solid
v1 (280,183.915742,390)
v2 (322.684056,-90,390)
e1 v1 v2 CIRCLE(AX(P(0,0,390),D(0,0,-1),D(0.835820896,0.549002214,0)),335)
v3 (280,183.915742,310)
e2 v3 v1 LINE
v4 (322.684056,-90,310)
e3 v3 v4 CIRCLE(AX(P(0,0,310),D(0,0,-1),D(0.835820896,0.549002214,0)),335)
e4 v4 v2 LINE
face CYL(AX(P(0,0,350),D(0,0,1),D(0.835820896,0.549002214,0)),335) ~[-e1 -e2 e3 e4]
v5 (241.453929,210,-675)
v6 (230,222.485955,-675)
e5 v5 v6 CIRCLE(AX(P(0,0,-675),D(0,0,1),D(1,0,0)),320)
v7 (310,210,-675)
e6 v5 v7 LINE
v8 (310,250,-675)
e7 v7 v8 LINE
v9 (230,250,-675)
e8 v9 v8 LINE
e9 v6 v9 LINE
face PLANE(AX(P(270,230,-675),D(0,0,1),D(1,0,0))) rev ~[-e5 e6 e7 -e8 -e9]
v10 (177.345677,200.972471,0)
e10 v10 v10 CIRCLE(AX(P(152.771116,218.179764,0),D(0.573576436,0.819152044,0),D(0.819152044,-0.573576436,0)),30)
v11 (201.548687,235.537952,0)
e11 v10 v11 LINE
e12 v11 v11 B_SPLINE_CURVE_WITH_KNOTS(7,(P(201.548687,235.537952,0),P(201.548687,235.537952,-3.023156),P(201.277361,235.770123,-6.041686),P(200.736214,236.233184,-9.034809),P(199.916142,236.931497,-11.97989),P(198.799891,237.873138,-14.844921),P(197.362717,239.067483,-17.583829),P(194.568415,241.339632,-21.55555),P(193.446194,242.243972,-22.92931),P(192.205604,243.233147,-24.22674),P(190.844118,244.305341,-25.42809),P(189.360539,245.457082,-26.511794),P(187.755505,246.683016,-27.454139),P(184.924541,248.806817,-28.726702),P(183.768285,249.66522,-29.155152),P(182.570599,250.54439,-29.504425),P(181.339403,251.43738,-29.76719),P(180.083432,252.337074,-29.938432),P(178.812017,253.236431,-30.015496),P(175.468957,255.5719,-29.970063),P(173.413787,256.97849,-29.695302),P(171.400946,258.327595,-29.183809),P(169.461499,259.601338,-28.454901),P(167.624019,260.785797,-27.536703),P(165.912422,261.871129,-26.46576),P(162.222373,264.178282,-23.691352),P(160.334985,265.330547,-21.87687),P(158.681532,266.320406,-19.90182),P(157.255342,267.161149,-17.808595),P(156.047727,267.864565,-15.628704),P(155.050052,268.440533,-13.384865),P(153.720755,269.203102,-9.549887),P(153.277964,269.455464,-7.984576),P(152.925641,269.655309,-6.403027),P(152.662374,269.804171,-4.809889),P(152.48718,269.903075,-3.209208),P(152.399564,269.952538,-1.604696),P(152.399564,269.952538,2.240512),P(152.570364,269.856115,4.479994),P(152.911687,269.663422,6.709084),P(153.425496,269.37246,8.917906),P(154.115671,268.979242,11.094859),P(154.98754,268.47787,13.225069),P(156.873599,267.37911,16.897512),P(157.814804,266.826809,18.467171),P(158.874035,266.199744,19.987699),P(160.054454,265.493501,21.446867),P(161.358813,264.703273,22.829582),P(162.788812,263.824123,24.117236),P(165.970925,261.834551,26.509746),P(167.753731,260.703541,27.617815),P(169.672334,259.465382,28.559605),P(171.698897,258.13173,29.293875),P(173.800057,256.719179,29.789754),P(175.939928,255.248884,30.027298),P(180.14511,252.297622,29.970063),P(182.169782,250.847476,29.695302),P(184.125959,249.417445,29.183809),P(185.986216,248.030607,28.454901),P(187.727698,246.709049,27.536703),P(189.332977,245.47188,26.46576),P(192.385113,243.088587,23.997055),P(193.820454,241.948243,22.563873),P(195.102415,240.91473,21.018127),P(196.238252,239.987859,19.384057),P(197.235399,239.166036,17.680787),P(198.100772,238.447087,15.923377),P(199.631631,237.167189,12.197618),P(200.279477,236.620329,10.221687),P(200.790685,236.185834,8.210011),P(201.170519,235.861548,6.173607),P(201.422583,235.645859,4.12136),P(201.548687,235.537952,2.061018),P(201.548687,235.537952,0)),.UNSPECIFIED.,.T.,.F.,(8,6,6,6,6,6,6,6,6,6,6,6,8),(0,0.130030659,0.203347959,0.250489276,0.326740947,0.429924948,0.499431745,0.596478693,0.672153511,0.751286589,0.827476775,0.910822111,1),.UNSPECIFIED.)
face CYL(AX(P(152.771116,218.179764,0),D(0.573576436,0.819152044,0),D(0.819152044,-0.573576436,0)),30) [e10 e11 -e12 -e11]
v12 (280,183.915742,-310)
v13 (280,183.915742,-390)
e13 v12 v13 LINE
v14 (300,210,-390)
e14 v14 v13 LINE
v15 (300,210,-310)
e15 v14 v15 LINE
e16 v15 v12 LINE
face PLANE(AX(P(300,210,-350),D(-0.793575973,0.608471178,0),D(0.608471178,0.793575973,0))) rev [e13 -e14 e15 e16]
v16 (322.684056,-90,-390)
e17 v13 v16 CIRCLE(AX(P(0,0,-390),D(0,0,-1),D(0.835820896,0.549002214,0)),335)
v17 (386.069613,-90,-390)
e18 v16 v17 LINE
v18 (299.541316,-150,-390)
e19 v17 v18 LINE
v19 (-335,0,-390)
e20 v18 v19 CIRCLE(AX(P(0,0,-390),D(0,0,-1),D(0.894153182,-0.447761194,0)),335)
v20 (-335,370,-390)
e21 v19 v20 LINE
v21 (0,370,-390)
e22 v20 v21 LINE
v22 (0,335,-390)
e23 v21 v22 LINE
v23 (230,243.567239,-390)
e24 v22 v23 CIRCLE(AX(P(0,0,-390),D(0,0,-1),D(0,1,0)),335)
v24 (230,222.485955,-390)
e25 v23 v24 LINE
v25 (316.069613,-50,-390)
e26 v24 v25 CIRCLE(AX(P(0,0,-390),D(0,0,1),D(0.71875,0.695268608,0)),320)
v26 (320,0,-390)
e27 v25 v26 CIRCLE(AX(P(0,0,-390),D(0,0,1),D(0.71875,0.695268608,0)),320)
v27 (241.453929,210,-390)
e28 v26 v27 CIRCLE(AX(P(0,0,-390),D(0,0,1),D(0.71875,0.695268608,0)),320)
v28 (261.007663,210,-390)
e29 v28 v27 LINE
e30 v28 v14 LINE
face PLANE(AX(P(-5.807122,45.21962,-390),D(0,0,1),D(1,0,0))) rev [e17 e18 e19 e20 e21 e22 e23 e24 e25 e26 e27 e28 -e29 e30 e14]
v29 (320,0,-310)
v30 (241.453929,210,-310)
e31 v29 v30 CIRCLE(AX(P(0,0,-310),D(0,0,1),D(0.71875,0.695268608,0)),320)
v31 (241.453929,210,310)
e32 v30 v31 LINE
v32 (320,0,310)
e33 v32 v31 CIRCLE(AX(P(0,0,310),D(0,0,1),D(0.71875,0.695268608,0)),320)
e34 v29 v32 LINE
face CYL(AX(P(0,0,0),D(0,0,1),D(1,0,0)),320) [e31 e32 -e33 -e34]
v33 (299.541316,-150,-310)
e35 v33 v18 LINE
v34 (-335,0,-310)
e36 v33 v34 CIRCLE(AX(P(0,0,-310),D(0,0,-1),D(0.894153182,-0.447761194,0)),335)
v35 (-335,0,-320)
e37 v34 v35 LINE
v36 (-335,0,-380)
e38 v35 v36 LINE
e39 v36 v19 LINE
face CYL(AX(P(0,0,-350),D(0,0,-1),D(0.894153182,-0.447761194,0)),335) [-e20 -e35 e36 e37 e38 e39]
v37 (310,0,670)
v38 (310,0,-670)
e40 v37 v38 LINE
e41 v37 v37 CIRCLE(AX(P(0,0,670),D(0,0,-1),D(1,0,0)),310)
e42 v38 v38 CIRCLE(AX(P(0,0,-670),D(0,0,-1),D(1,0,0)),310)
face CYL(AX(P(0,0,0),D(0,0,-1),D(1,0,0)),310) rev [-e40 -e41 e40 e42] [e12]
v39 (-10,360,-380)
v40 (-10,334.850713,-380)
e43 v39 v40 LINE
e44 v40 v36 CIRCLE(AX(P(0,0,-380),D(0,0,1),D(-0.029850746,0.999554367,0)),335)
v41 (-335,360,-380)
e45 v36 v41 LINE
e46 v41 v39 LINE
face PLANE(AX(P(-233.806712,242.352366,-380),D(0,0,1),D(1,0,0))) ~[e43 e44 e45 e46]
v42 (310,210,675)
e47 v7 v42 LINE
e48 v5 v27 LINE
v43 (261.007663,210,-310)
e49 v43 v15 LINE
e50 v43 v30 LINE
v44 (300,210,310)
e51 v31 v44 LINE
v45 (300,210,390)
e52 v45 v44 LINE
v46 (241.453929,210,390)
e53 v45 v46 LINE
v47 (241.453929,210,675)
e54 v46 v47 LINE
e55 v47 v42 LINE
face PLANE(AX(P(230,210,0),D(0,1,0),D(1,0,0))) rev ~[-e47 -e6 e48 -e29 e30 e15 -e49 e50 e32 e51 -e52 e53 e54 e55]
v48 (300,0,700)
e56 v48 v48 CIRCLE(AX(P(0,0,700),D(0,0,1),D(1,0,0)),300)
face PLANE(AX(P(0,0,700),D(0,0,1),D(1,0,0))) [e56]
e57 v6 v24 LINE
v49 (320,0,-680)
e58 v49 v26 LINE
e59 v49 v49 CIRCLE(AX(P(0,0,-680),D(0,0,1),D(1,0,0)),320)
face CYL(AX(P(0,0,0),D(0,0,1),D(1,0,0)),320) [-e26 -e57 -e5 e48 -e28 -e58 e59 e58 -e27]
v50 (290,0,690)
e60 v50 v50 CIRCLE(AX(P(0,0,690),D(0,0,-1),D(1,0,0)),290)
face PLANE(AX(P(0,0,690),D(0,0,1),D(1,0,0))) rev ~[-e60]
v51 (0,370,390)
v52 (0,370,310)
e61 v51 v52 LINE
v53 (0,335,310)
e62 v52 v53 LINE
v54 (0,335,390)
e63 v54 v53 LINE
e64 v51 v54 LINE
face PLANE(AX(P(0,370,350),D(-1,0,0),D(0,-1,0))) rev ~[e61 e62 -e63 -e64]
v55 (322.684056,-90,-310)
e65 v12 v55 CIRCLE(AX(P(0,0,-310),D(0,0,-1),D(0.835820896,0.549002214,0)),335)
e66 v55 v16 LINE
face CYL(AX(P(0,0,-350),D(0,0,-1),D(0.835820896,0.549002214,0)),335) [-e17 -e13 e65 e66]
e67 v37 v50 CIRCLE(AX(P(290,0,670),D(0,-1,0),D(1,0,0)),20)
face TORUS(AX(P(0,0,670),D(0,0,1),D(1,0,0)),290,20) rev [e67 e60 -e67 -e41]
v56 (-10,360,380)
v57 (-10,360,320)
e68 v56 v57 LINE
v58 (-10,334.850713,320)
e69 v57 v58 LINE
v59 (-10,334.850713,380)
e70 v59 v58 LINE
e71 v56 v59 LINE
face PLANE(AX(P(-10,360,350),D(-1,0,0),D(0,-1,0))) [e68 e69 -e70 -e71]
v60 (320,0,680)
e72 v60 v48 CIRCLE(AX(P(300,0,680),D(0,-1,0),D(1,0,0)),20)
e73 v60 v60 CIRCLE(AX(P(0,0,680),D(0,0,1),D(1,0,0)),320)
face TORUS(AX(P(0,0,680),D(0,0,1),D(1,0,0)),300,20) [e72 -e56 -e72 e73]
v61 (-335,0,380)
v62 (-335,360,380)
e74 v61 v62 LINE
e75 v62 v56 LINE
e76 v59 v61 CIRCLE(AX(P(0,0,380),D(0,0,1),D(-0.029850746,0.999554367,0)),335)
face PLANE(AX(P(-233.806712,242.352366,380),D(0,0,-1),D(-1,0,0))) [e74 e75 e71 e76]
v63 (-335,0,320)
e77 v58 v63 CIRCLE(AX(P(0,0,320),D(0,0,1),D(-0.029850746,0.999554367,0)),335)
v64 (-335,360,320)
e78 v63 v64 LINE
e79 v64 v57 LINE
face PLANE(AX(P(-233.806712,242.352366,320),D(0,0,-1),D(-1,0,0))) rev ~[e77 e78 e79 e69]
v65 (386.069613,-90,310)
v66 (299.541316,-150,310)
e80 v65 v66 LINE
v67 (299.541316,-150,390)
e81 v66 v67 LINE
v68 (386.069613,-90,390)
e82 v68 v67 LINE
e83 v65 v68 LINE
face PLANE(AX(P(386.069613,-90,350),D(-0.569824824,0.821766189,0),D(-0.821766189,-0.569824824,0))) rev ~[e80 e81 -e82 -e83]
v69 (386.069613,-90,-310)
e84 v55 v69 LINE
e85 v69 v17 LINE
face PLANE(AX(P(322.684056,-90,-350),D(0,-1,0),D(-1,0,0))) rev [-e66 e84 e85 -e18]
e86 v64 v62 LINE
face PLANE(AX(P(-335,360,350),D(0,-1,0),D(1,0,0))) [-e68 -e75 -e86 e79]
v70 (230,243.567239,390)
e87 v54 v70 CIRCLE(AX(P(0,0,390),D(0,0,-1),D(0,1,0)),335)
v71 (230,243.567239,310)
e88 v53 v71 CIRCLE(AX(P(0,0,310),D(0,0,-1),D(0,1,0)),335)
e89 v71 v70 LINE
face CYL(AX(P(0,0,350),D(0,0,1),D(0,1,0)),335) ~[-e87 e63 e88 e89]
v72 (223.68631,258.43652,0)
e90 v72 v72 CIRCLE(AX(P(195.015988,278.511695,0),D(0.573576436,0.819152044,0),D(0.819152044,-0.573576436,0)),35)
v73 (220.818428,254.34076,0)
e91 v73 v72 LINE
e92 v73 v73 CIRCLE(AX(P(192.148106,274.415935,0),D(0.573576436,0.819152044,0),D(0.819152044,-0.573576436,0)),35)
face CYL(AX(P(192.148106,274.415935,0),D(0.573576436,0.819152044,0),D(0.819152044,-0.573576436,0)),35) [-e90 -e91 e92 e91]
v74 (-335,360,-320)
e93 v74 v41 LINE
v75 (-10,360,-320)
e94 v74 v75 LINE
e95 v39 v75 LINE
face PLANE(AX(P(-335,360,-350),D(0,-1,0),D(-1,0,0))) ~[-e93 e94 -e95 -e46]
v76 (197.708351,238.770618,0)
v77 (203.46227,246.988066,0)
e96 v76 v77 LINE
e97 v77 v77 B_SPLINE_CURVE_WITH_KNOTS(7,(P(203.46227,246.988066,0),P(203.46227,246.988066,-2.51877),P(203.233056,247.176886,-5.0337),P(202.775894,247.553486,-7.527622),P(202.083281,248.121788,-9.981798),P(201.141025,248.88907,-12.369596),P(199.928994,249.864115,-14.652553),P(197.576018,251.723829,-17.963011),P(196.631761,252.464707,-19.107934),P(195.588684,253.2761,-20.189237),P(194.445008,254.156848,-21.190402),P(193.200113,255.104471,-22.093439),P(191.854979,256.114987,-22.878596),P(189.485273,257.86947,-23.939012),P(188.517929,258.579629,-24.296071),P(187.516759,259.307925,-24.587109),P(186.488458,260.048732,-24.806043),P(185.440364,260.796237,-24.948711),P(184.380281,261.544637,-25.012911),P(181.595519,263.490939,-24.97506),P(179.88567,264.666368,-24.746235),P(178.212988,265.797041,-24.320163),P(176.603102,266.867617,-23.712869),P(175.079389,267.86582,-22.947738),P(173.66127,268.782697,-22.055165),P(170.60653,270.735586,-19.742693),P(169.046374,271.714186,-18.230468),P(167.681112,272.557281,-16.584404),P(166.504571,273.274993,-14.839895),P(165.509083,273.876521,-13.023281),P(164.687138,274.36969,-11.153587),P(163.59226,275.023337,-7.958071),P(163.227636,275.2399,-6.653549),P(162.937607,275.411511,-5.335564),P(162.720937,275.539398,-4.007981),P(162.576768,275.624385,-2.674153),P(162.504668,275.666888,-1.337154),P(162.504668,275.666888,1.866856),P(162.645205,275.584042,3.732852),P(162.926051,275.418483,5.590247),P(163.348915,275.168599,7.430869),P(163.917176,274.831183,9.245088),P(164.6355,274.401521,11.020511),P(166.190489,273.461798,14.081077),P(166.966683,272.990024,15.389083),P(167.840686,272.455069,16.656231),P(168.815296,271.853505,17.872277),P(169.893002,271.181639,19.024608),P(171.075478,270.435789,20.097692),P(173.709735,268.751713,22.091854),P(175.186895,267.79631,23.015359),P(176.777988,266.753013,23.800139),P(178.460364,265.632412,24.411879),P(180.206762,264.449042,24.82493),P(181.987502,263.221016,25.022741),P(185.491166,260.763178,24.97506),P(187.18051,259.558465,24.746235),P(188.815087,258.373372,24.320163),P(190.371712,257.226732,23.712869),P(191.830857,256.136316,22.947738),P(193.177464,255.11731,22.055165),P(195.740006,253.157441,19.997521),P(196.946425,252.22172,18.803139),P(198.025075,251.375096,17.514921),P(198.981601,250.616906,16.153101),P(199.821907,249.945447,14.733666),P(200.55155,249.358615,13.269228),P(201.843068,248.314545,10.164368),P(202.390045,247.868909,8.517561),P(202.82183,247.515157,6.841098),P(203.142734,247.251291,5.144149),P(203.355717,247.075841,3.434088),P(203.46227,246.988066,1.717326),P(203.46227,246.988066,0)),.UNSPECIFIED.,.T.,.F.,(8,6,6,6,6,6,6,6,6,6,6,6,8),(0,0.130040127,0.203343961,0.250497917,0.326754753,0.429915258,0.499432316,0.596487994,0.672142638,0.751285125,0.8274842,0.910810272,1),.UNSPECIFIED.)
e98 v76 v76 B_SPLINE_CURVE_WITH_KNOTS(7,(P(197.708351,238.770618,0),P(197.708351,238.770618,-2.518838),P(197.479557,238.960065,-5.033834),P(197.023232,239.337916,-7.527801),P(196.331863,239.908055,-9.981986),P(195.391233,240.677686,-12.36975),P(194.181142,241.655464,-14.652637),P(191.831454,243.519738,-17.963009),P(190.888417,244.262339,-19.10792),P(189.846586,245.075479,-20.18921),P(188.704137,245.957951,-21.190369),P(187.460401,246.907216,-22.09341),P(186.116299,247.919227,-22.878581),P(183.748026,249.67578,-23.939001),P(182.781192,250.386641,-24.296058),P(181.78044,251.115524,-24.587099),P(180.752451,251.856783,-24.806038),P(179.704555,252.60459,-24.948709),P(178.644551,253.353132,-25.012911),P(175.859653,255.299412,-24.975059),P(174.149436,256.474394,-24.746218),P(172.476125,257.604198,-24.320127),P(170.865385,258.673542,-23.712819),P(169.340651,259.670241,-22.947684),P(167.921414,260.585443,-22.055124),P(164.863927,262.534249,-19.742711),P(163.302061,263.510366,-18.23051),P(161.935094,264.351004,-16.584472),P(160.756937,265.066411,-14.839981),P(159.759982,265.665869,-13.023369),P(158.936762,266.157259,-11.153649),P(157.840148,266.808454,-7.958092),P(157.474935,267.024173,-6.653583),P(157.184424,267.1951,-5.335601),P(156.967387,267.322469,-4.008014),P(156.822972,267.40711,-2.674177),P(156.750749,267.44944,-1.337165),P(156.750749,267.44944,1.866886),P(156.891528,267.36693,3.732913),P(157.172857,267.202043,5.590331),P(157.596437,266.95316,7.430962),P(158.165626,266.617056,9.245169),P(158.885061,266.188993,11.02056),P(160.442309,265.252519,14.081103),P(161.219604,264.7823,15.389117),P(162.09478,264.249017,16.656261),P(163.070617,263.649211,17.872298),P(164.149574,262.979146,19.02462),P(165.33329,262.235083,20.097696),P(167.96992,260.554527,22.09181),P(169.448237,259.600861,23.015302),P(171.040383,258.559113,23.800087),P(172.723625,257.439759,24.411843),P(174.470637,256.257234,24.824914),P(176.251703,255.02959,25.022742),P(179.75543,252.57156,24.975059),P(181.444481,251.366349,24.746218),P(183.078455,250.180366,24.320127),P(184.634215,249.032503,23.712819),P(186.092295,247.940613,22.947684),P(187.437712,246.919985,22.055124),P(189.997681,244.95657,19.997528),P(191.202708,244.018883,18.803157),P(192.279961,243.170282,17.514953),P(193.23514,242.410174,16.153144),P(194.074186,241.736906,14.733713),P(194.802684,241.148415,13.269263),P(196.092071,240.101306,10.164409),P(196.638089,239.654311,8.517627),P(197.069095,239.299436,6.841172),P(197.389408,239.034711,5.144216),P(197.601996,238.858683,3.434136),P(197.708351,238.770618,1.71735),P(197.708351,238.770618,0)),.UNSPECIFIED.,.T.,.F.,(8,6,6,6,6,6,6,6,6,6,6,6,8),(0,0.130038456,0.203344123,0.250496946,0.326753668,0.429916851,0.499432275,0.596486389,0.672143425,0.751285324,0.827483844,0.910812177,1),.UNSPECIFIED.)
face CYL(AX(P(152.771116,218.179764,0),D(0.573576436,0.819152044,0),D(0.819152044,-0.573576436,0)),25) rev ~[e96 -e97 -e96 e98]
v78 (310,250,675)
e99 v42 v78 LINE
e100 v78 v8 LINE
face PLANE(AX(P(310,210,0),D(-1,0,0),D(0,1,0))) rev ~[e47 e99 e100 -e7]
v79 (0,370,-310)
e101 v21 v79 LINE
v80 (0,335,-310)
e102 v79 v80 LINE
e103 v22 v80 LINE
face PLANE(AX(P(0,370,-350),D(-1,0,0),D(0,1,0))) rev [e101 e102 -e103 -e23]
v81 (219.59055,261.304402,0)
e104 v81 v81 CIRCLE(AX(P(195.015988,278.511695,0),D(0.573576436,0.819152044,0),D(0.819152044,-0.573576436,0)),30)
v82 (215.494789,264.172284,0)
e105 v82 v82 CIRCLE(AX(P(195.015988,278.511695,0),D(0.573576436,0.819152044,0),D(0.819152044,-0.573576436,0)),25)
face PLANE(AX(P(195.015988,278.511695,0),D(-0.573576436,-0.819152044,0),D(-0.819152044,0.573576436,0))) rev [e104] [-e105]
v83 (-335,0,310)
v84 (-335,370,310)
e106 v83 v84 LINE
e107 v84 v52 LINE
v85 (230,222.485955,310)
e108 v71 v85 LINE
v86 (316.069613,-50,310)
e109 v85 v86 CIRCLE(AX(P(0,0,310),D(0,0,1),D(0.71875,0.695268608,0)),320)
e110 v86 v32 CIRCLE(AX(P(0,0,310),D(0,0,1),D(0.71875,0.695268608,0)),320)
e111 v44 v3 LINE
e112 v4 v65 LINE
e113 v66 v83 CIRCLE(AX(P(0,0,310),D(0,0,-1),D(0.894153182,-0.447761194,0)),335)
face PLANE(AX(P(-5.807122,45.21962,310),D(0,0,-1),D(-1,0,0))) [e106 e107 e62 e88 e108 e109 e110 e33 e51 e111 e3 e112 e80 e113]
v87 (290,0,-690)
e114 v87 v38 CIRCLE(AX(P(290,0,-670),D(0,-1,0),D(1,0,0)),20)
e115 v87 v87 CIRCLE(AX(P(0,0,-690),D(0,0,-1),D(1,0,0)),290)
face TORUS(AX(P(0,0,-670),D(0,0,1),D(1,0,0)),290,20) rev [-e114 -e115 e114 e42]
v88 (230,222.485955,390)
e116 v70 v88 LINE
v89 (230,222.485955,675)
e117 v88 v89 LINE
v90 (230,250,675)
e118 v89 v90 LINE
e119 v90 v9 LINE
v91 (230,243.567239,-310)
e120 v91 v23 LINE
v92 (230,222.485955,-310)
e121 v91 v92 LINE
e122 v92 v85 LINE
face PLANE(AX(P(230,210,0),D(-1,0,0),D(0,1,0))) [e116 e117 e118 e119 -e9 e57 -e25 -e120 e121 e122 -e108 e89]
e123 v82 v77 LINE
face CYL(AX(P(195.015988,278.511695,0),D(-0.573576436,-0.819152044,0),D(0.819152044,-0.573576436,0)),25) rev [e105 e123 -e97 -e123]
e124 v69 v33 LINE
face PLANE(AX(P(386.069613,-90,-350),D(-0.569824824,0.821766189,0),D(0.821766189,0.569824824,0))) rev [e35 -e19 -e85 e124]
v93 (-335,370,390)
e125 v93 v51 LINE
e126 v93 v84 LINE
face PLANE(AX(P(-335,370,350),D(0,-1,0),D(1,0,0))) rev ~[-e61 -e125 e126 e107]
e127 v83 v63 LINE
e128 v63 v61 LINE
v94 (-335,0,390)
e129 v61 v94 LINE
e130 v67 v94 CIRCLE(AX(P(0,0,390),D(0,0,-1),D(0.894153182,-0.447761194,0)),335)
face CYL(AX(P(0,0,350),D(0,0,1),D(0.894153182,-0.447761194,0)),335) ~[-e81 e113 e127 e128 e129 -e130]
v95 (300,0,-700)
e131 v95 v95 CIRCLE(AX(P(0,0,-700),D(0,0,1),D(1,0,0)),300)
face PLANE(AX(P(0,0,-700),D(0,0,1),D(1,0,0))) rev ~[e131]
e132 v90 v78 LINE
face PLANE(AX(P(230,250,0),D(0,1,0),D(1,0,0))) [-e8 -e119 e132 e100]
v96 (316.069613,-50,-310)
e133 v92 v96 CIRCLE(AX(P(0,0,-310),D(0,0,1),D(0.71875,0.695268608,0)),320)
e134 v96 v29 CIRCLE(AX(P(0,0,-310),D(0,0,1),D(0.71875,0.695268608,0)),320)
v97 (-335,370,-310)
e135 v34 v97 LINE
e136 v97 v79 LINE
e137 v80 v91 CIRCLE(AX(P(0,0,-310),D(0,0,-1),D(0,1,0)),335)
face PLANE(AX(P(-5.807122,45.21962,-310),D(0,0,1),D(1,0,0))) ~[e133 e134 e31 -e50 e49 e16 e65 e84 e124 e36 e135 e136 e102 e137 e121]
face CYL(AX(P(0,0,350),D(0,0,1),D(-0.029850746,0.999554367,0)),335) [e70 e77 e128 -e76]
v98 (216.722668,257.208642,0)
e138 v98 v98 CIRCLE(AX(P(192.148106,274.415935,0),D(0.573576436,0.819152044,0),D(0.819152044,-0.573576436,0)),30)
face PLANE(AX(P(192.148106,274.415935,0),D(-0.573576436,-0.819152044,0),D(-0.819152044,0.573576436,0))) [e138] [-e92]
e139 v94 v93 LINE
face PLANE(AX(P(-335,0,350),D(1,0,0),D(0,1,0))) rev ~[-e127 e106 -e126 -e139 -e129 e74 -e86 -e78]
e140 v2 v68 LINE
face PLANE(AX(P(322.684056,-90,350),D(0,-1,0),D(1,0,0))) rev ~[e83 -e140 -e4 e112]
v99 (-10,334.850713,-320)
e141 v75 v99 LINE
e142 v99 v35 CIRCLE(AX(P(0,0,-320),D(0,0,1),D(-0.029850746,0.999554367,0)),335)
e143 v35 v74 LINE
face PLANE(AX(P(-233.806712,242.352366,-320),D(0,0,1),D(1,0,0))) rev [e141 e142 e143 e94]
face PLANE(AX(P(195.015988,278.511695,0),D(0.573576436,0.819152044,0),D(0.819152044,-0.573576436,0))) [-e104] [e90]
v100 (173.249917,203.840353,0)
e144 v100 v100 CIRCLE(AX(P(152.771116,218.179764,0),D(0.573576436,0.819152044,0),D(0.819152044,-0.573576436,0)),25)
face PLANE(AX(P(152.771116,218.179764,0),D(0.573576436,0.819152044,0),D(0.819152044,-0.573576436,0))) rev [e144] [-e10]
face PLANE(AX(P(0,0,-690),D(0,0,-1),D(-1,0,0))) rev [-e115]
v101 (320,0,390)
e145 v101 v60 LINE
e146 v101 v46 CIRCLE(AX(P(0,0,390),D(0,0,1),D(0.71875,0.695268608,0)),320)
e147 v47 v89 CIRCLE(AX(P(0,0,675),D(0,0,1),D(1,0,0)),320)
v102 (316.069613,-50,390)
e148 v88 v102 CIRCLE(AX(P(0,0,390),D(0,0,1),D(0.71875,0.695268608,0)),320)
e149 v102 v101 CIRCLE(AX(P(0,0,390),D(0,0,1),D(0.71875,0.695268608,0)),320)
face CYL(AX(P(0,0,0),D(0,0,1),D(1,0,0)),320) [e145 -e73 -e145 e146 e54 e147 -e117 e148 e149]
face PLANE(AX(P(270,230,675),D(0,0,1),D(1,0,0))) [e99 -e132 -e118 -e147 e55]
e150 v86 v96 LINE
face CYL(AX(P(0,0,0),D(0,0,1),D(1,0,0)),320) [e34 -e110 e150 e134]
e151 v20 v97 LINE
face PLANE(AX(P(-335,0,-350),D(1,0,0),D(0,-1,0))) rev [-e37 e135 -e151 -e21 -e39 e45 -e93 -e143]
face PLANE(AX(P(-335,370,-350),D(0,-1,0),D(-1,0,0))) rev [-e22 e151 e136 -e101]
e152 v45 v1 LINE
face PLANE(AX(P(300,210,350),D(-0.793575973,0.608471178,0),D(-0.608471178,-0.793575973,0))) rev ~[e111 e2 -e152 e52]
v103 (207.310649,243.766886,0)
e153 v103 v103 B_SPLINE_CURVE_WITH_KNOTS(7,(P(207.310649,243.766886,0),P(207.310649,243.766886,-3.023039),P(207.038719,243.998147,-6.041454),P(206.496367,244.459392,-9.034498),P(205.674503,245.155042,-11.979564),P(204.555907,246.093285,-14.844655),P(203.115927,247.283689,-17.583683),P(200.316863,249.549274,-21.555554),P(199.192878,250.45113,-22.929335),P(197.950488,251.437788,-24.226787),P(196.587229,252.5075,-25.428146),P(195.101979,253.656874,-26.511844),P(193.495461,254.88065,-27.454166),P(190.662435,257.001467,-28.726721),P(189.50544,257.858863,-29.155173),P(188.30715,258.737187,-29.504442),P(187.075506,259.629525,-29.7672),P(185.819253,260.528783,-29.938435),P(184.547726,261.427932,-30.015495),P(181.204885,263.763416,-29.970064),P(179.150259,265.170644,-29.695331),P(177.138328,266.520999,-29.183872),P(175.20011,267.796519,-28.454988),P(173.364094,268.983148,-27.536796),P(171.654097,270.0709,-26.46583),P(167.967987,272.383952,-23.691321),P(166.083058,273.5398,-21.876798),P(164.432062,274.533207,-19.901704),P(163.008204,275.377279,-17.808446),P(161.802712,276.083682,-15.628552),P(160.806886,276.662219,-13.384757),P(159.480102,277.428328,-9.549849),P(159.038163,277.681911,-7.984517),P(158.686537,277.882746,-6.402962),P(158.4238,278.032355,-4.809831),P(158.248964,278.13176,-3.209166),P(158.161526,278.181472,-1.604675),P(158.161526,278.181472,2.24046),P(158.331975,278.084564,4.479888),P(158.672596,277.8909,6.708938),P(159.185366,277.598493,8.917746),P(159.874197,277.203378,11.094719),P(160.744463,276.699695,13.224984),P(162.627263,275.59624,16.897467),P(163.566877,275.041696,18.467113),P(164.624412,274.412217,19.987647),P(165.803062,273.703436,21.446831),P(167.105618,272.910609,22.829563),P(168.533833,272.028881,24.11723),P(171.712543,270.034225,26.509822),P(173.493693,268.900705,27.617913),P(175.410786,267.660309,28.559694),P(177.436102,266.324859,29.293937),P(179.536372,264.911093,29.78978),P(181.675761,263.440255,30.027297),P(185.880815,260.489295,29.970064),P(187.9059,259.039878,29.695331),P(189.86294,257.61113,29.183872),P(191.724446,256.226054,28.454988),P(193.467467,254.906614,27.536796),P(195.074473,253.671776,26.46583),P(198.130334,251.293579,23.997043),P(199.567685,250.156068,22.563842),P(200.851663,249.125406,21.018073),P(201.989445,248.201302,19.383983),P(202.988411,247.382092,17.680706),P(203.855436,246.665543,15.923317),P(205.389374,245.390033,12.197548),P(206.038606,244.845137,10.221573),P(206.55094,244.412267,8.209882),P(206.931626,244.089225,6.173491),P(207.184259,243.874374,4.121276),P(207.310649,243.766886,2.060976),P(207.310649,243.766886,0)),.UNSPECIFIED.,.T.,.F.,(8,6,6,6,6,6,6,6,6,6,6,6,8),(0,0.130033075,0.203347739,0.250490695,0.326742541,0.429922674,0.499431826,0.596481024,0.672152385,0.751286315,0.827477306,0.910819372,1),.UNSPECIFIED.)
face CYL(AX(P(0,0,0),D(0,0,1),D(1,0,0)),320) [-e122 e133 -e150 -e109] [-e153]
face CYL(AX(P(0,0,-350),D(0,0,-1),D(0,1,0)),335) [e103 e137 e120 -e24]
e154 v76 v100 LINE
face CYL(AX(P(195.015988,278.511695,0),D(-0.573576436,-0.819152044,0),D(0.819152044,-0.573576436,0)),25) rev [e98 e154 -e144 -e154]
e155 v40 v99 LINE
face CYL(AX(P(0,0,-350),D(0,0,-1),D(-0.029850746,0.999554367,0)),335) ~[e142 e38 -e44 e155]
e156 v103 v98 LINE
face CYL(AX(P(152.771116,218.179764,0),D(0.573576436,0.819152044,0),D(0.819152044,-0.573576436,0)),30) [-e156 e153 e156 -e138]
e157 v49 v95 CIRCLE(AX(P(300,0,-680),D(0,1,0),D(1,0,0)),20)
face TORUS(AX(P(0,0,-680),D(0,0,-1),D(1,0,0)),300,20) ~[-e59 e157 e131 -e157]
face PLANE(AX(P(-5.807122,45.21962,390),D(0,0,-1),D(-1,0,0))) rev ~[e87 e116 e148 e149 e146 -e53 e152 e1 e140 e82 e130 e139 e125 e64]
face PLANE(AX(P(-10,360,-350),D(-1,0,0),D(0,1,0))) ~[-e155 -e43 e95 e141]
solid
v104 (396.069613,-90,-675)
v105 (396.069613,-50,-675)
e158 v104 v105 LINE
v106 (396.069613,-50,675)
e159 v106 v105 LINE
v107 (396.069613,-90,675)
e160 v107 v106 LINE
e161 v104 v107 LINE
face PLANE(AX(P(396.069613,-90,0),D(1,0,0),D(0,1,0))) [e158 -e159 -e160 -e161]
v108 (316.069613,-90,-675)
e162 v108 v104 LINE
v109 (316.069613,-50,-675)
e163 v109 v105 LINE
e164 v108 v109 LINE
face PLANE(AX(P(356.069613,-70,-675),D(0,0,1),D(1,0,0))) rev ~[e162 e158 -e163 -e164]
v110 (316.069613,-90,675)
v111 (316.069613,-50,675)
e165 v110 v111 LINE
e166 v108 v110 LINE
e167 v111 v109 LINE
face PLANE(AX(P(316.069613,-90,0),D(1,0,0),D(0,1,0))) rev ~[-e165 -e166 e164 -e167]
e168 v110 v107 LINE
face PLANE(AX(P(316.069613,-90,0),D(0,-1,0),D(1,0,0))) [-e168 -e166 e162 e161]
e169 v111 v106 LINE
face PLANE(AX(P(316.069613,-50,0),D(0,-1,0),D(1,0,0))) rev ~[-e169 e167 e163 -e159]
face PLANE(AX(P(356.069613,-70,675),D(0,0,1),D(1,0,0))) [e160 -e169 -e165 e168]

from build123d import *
from build123d.topology import SkipClean

# Parameters (mm, degrees)
SKETCH1_R           = 320
SKETCH1_R_2         = 310
BOSS_EXTRUDE1_DEPTH = 700
SKETCH2_R           = 320
BOSS_EXTRUDE2_DEPTH = 10
FILLET1_R           = 20
FILLET2_R           = 20
SKETCH3_W           = 80
SKETCH3_H           = 40
BOSS_EXTRUDE3_DEPTH = 675
SKETCH4_R           = 320
BOSS_EXTRUDE4_DEPTH = 40
CUT_EXTRUDE1_DEPTH  = 30


with BuildPart() as part:
    # Sketch1 → Boss-Extrude1 (new, symmetric)
    with BuildSketch(Plane.XY):
        Circle(SKETCH1_R)
        Circle(SKETCH1_R_2, mode=Mode.SUBTRACT)
    extrude(amount=BOSS_EXTRUDE1_DEPTH, both=True)

    # Sketch2 → Boss-Extrude2 (add)
    with BuildSketch(Plane.XY.offset(700)):
        Circle(SKETCH2_R)
    boss_extrude2 = extrude(amount=-BOSS_EXTRUDE2_DEPTH)

    # Fillet1
    fillet1_edges = [part.edges().sort_by_distance(p)[0] for p in [
        (-320, 0, 700),
        (-310, 0, 690),
    ]]
    fillet(fillet1_edges, radius=FILLET1_R)

    # Mirror1: Boss-Extrude2 across plane
    add(boss_extrude2.mirror(Plane.XY))

    # Fillet2
    fillet2_edges = [part.edges().sort_by_distance(p)[0] for p in [
        (-320, 0, -700),
        (-310, 0, -690),
    ]]
    fillet(fillet2_edges, radius=FILLET2_R)

    # Sketch3 → Boss-Extrude3 (add, symmetric)
    with BuildSketch(Plane.XY):
        with Locations((270, 230)):
            Rectangle(SKETCH3_W, SKETCH3_H)
        with Locations((356.069612586, -70)):
            Rectangle(SKETCH3_W, SKETCH3_H)
    extrude(amount=BOSS_EXTRUDE3_DEPTH, both=True)


with BuildPart() as boss_extrude3_piece_1:
    # of the separate pieces the step leaves, piece 1, a body of its own (boss_extrude3_pieces)
    add(part.part.solids().sort_by_distance((320, 0, -680))[0])

    # Sketch4 → Boss-Extrude4 (add, symmetric)
    with BuildSketch(Plane.XY.offset(350)):
        with BuildLine():
            Line((-335, 0), (-335, 370))
            Line((-335, 370), (0, 370))
            Line((0, 370), (0, 335))
            ThreePointArc((0, 335), (144.697961285, 302.138213406), (261.007662723, 210))
            Line((261.007662723, 210), (300, 210))
            Line((300, 210), (280, 183.915741577))
            ThreePointArc((280, 183.915741577), (331.005251033, 51.580265493), (322.684056005, -90))
            Line((322.684056005, -90), (386.069612586, -90))
            Line((386.069612586, -90), (299.541316015, -150))
            ThreePointArc((299.541316015, -150), (-77.067045924, -326.014831614), (-335, 0))
        make_face()
        Circle(SKETCH4_R, mode=Mode.SUBTRACT)
    boss_extrude4 = extrude(amount=BOSS_EXTRUDE4_DEPTH, both=True)

    # Sketch7 → Cut-Extrude1 (cut, symmetric)
    with SkipClean():  # the faces are left unmerged after this step: merging them gives an invalid solid
        with BuildSketch(Plane.XY.offset(350)):
            with BuildLine():
                Line((-335, 360), (-10, 360))
                Line((-10, 360), (-10, 334.850713005))
                ThreePointArc((-10, 334.850713005), (-240.390307625, 233.318451906), (-335, 0))
                Line((-335, 0), (-335, 360))
            make_face()
        cut_extrude1 = extrude(amount=CUT_EXTRUDE1_DEPTH, both=True, mode=Mode.SUBTRACT)

    # Mirror2: Boss-Extrude4 across plane
    with SkipClean():  # the faces are left unmerged after this step: merging them gives an invalid solid
        add(boss_extrude4.mirror(Plane.XY))

    # Mirror2 2: Cut-Extrude1 across plane
    with SkipClean():  # the faces are left unmerged after this step: merging them gives an invalid solid
        add(cut_extrude1.mirror(Plane.XY), mode=Mode.SUBTRACT)

    # Sketch5 → Cut-Revolve1 (revolve, cut)
    with SkipClean():  # the faces are left unmerged after this step: merging them gives an invalid solid
        with BuildSketch(Plane.XY):
            Polygon((174.537187252, 292.851105967), (132.292314558, 232.519175234), (152.771115666, 218.179764326), (195.015988359, 278.511695058), align=None)
        revolve(axis=Axis((0, 0, 0), (0.5735764363510472, 0.8191520442889911, 0)), mode=Mode.SUBTRACT)

    # Sketch5<3> → Revolve1 (revolve)
    with SkipClean():  # the faces are left unmerged after this step: merging them gives an invalid solid
        with BuildSketch(Plane.XY):
            Polygon((128.196554337, 235.387057416), (132.292314558, 232.519175234), (174.537187252, 292.851105967), (170.441427031, 295.718988149), (166.345666809, 298.586870331), (163.477784627, 294.491110109), (167.573544849, 291.623227927), align=None)
        revolve(axis=Axis((0, 0, 0), (0.5735764363510472, 0.8191520442889911, 0)))


with BuildPart() as boss_extrude3_piece_2:
    # of the separate pieces the step leaves, piece 2, a body of its own (boss_extrude3_pieces)
    add(part.part.solids().sort_by_distance((316.069612586, -90, -675))[0])


solid = Compound([boss_extrude3_piece_1.part, boss_extrude3_piece_2.part])
